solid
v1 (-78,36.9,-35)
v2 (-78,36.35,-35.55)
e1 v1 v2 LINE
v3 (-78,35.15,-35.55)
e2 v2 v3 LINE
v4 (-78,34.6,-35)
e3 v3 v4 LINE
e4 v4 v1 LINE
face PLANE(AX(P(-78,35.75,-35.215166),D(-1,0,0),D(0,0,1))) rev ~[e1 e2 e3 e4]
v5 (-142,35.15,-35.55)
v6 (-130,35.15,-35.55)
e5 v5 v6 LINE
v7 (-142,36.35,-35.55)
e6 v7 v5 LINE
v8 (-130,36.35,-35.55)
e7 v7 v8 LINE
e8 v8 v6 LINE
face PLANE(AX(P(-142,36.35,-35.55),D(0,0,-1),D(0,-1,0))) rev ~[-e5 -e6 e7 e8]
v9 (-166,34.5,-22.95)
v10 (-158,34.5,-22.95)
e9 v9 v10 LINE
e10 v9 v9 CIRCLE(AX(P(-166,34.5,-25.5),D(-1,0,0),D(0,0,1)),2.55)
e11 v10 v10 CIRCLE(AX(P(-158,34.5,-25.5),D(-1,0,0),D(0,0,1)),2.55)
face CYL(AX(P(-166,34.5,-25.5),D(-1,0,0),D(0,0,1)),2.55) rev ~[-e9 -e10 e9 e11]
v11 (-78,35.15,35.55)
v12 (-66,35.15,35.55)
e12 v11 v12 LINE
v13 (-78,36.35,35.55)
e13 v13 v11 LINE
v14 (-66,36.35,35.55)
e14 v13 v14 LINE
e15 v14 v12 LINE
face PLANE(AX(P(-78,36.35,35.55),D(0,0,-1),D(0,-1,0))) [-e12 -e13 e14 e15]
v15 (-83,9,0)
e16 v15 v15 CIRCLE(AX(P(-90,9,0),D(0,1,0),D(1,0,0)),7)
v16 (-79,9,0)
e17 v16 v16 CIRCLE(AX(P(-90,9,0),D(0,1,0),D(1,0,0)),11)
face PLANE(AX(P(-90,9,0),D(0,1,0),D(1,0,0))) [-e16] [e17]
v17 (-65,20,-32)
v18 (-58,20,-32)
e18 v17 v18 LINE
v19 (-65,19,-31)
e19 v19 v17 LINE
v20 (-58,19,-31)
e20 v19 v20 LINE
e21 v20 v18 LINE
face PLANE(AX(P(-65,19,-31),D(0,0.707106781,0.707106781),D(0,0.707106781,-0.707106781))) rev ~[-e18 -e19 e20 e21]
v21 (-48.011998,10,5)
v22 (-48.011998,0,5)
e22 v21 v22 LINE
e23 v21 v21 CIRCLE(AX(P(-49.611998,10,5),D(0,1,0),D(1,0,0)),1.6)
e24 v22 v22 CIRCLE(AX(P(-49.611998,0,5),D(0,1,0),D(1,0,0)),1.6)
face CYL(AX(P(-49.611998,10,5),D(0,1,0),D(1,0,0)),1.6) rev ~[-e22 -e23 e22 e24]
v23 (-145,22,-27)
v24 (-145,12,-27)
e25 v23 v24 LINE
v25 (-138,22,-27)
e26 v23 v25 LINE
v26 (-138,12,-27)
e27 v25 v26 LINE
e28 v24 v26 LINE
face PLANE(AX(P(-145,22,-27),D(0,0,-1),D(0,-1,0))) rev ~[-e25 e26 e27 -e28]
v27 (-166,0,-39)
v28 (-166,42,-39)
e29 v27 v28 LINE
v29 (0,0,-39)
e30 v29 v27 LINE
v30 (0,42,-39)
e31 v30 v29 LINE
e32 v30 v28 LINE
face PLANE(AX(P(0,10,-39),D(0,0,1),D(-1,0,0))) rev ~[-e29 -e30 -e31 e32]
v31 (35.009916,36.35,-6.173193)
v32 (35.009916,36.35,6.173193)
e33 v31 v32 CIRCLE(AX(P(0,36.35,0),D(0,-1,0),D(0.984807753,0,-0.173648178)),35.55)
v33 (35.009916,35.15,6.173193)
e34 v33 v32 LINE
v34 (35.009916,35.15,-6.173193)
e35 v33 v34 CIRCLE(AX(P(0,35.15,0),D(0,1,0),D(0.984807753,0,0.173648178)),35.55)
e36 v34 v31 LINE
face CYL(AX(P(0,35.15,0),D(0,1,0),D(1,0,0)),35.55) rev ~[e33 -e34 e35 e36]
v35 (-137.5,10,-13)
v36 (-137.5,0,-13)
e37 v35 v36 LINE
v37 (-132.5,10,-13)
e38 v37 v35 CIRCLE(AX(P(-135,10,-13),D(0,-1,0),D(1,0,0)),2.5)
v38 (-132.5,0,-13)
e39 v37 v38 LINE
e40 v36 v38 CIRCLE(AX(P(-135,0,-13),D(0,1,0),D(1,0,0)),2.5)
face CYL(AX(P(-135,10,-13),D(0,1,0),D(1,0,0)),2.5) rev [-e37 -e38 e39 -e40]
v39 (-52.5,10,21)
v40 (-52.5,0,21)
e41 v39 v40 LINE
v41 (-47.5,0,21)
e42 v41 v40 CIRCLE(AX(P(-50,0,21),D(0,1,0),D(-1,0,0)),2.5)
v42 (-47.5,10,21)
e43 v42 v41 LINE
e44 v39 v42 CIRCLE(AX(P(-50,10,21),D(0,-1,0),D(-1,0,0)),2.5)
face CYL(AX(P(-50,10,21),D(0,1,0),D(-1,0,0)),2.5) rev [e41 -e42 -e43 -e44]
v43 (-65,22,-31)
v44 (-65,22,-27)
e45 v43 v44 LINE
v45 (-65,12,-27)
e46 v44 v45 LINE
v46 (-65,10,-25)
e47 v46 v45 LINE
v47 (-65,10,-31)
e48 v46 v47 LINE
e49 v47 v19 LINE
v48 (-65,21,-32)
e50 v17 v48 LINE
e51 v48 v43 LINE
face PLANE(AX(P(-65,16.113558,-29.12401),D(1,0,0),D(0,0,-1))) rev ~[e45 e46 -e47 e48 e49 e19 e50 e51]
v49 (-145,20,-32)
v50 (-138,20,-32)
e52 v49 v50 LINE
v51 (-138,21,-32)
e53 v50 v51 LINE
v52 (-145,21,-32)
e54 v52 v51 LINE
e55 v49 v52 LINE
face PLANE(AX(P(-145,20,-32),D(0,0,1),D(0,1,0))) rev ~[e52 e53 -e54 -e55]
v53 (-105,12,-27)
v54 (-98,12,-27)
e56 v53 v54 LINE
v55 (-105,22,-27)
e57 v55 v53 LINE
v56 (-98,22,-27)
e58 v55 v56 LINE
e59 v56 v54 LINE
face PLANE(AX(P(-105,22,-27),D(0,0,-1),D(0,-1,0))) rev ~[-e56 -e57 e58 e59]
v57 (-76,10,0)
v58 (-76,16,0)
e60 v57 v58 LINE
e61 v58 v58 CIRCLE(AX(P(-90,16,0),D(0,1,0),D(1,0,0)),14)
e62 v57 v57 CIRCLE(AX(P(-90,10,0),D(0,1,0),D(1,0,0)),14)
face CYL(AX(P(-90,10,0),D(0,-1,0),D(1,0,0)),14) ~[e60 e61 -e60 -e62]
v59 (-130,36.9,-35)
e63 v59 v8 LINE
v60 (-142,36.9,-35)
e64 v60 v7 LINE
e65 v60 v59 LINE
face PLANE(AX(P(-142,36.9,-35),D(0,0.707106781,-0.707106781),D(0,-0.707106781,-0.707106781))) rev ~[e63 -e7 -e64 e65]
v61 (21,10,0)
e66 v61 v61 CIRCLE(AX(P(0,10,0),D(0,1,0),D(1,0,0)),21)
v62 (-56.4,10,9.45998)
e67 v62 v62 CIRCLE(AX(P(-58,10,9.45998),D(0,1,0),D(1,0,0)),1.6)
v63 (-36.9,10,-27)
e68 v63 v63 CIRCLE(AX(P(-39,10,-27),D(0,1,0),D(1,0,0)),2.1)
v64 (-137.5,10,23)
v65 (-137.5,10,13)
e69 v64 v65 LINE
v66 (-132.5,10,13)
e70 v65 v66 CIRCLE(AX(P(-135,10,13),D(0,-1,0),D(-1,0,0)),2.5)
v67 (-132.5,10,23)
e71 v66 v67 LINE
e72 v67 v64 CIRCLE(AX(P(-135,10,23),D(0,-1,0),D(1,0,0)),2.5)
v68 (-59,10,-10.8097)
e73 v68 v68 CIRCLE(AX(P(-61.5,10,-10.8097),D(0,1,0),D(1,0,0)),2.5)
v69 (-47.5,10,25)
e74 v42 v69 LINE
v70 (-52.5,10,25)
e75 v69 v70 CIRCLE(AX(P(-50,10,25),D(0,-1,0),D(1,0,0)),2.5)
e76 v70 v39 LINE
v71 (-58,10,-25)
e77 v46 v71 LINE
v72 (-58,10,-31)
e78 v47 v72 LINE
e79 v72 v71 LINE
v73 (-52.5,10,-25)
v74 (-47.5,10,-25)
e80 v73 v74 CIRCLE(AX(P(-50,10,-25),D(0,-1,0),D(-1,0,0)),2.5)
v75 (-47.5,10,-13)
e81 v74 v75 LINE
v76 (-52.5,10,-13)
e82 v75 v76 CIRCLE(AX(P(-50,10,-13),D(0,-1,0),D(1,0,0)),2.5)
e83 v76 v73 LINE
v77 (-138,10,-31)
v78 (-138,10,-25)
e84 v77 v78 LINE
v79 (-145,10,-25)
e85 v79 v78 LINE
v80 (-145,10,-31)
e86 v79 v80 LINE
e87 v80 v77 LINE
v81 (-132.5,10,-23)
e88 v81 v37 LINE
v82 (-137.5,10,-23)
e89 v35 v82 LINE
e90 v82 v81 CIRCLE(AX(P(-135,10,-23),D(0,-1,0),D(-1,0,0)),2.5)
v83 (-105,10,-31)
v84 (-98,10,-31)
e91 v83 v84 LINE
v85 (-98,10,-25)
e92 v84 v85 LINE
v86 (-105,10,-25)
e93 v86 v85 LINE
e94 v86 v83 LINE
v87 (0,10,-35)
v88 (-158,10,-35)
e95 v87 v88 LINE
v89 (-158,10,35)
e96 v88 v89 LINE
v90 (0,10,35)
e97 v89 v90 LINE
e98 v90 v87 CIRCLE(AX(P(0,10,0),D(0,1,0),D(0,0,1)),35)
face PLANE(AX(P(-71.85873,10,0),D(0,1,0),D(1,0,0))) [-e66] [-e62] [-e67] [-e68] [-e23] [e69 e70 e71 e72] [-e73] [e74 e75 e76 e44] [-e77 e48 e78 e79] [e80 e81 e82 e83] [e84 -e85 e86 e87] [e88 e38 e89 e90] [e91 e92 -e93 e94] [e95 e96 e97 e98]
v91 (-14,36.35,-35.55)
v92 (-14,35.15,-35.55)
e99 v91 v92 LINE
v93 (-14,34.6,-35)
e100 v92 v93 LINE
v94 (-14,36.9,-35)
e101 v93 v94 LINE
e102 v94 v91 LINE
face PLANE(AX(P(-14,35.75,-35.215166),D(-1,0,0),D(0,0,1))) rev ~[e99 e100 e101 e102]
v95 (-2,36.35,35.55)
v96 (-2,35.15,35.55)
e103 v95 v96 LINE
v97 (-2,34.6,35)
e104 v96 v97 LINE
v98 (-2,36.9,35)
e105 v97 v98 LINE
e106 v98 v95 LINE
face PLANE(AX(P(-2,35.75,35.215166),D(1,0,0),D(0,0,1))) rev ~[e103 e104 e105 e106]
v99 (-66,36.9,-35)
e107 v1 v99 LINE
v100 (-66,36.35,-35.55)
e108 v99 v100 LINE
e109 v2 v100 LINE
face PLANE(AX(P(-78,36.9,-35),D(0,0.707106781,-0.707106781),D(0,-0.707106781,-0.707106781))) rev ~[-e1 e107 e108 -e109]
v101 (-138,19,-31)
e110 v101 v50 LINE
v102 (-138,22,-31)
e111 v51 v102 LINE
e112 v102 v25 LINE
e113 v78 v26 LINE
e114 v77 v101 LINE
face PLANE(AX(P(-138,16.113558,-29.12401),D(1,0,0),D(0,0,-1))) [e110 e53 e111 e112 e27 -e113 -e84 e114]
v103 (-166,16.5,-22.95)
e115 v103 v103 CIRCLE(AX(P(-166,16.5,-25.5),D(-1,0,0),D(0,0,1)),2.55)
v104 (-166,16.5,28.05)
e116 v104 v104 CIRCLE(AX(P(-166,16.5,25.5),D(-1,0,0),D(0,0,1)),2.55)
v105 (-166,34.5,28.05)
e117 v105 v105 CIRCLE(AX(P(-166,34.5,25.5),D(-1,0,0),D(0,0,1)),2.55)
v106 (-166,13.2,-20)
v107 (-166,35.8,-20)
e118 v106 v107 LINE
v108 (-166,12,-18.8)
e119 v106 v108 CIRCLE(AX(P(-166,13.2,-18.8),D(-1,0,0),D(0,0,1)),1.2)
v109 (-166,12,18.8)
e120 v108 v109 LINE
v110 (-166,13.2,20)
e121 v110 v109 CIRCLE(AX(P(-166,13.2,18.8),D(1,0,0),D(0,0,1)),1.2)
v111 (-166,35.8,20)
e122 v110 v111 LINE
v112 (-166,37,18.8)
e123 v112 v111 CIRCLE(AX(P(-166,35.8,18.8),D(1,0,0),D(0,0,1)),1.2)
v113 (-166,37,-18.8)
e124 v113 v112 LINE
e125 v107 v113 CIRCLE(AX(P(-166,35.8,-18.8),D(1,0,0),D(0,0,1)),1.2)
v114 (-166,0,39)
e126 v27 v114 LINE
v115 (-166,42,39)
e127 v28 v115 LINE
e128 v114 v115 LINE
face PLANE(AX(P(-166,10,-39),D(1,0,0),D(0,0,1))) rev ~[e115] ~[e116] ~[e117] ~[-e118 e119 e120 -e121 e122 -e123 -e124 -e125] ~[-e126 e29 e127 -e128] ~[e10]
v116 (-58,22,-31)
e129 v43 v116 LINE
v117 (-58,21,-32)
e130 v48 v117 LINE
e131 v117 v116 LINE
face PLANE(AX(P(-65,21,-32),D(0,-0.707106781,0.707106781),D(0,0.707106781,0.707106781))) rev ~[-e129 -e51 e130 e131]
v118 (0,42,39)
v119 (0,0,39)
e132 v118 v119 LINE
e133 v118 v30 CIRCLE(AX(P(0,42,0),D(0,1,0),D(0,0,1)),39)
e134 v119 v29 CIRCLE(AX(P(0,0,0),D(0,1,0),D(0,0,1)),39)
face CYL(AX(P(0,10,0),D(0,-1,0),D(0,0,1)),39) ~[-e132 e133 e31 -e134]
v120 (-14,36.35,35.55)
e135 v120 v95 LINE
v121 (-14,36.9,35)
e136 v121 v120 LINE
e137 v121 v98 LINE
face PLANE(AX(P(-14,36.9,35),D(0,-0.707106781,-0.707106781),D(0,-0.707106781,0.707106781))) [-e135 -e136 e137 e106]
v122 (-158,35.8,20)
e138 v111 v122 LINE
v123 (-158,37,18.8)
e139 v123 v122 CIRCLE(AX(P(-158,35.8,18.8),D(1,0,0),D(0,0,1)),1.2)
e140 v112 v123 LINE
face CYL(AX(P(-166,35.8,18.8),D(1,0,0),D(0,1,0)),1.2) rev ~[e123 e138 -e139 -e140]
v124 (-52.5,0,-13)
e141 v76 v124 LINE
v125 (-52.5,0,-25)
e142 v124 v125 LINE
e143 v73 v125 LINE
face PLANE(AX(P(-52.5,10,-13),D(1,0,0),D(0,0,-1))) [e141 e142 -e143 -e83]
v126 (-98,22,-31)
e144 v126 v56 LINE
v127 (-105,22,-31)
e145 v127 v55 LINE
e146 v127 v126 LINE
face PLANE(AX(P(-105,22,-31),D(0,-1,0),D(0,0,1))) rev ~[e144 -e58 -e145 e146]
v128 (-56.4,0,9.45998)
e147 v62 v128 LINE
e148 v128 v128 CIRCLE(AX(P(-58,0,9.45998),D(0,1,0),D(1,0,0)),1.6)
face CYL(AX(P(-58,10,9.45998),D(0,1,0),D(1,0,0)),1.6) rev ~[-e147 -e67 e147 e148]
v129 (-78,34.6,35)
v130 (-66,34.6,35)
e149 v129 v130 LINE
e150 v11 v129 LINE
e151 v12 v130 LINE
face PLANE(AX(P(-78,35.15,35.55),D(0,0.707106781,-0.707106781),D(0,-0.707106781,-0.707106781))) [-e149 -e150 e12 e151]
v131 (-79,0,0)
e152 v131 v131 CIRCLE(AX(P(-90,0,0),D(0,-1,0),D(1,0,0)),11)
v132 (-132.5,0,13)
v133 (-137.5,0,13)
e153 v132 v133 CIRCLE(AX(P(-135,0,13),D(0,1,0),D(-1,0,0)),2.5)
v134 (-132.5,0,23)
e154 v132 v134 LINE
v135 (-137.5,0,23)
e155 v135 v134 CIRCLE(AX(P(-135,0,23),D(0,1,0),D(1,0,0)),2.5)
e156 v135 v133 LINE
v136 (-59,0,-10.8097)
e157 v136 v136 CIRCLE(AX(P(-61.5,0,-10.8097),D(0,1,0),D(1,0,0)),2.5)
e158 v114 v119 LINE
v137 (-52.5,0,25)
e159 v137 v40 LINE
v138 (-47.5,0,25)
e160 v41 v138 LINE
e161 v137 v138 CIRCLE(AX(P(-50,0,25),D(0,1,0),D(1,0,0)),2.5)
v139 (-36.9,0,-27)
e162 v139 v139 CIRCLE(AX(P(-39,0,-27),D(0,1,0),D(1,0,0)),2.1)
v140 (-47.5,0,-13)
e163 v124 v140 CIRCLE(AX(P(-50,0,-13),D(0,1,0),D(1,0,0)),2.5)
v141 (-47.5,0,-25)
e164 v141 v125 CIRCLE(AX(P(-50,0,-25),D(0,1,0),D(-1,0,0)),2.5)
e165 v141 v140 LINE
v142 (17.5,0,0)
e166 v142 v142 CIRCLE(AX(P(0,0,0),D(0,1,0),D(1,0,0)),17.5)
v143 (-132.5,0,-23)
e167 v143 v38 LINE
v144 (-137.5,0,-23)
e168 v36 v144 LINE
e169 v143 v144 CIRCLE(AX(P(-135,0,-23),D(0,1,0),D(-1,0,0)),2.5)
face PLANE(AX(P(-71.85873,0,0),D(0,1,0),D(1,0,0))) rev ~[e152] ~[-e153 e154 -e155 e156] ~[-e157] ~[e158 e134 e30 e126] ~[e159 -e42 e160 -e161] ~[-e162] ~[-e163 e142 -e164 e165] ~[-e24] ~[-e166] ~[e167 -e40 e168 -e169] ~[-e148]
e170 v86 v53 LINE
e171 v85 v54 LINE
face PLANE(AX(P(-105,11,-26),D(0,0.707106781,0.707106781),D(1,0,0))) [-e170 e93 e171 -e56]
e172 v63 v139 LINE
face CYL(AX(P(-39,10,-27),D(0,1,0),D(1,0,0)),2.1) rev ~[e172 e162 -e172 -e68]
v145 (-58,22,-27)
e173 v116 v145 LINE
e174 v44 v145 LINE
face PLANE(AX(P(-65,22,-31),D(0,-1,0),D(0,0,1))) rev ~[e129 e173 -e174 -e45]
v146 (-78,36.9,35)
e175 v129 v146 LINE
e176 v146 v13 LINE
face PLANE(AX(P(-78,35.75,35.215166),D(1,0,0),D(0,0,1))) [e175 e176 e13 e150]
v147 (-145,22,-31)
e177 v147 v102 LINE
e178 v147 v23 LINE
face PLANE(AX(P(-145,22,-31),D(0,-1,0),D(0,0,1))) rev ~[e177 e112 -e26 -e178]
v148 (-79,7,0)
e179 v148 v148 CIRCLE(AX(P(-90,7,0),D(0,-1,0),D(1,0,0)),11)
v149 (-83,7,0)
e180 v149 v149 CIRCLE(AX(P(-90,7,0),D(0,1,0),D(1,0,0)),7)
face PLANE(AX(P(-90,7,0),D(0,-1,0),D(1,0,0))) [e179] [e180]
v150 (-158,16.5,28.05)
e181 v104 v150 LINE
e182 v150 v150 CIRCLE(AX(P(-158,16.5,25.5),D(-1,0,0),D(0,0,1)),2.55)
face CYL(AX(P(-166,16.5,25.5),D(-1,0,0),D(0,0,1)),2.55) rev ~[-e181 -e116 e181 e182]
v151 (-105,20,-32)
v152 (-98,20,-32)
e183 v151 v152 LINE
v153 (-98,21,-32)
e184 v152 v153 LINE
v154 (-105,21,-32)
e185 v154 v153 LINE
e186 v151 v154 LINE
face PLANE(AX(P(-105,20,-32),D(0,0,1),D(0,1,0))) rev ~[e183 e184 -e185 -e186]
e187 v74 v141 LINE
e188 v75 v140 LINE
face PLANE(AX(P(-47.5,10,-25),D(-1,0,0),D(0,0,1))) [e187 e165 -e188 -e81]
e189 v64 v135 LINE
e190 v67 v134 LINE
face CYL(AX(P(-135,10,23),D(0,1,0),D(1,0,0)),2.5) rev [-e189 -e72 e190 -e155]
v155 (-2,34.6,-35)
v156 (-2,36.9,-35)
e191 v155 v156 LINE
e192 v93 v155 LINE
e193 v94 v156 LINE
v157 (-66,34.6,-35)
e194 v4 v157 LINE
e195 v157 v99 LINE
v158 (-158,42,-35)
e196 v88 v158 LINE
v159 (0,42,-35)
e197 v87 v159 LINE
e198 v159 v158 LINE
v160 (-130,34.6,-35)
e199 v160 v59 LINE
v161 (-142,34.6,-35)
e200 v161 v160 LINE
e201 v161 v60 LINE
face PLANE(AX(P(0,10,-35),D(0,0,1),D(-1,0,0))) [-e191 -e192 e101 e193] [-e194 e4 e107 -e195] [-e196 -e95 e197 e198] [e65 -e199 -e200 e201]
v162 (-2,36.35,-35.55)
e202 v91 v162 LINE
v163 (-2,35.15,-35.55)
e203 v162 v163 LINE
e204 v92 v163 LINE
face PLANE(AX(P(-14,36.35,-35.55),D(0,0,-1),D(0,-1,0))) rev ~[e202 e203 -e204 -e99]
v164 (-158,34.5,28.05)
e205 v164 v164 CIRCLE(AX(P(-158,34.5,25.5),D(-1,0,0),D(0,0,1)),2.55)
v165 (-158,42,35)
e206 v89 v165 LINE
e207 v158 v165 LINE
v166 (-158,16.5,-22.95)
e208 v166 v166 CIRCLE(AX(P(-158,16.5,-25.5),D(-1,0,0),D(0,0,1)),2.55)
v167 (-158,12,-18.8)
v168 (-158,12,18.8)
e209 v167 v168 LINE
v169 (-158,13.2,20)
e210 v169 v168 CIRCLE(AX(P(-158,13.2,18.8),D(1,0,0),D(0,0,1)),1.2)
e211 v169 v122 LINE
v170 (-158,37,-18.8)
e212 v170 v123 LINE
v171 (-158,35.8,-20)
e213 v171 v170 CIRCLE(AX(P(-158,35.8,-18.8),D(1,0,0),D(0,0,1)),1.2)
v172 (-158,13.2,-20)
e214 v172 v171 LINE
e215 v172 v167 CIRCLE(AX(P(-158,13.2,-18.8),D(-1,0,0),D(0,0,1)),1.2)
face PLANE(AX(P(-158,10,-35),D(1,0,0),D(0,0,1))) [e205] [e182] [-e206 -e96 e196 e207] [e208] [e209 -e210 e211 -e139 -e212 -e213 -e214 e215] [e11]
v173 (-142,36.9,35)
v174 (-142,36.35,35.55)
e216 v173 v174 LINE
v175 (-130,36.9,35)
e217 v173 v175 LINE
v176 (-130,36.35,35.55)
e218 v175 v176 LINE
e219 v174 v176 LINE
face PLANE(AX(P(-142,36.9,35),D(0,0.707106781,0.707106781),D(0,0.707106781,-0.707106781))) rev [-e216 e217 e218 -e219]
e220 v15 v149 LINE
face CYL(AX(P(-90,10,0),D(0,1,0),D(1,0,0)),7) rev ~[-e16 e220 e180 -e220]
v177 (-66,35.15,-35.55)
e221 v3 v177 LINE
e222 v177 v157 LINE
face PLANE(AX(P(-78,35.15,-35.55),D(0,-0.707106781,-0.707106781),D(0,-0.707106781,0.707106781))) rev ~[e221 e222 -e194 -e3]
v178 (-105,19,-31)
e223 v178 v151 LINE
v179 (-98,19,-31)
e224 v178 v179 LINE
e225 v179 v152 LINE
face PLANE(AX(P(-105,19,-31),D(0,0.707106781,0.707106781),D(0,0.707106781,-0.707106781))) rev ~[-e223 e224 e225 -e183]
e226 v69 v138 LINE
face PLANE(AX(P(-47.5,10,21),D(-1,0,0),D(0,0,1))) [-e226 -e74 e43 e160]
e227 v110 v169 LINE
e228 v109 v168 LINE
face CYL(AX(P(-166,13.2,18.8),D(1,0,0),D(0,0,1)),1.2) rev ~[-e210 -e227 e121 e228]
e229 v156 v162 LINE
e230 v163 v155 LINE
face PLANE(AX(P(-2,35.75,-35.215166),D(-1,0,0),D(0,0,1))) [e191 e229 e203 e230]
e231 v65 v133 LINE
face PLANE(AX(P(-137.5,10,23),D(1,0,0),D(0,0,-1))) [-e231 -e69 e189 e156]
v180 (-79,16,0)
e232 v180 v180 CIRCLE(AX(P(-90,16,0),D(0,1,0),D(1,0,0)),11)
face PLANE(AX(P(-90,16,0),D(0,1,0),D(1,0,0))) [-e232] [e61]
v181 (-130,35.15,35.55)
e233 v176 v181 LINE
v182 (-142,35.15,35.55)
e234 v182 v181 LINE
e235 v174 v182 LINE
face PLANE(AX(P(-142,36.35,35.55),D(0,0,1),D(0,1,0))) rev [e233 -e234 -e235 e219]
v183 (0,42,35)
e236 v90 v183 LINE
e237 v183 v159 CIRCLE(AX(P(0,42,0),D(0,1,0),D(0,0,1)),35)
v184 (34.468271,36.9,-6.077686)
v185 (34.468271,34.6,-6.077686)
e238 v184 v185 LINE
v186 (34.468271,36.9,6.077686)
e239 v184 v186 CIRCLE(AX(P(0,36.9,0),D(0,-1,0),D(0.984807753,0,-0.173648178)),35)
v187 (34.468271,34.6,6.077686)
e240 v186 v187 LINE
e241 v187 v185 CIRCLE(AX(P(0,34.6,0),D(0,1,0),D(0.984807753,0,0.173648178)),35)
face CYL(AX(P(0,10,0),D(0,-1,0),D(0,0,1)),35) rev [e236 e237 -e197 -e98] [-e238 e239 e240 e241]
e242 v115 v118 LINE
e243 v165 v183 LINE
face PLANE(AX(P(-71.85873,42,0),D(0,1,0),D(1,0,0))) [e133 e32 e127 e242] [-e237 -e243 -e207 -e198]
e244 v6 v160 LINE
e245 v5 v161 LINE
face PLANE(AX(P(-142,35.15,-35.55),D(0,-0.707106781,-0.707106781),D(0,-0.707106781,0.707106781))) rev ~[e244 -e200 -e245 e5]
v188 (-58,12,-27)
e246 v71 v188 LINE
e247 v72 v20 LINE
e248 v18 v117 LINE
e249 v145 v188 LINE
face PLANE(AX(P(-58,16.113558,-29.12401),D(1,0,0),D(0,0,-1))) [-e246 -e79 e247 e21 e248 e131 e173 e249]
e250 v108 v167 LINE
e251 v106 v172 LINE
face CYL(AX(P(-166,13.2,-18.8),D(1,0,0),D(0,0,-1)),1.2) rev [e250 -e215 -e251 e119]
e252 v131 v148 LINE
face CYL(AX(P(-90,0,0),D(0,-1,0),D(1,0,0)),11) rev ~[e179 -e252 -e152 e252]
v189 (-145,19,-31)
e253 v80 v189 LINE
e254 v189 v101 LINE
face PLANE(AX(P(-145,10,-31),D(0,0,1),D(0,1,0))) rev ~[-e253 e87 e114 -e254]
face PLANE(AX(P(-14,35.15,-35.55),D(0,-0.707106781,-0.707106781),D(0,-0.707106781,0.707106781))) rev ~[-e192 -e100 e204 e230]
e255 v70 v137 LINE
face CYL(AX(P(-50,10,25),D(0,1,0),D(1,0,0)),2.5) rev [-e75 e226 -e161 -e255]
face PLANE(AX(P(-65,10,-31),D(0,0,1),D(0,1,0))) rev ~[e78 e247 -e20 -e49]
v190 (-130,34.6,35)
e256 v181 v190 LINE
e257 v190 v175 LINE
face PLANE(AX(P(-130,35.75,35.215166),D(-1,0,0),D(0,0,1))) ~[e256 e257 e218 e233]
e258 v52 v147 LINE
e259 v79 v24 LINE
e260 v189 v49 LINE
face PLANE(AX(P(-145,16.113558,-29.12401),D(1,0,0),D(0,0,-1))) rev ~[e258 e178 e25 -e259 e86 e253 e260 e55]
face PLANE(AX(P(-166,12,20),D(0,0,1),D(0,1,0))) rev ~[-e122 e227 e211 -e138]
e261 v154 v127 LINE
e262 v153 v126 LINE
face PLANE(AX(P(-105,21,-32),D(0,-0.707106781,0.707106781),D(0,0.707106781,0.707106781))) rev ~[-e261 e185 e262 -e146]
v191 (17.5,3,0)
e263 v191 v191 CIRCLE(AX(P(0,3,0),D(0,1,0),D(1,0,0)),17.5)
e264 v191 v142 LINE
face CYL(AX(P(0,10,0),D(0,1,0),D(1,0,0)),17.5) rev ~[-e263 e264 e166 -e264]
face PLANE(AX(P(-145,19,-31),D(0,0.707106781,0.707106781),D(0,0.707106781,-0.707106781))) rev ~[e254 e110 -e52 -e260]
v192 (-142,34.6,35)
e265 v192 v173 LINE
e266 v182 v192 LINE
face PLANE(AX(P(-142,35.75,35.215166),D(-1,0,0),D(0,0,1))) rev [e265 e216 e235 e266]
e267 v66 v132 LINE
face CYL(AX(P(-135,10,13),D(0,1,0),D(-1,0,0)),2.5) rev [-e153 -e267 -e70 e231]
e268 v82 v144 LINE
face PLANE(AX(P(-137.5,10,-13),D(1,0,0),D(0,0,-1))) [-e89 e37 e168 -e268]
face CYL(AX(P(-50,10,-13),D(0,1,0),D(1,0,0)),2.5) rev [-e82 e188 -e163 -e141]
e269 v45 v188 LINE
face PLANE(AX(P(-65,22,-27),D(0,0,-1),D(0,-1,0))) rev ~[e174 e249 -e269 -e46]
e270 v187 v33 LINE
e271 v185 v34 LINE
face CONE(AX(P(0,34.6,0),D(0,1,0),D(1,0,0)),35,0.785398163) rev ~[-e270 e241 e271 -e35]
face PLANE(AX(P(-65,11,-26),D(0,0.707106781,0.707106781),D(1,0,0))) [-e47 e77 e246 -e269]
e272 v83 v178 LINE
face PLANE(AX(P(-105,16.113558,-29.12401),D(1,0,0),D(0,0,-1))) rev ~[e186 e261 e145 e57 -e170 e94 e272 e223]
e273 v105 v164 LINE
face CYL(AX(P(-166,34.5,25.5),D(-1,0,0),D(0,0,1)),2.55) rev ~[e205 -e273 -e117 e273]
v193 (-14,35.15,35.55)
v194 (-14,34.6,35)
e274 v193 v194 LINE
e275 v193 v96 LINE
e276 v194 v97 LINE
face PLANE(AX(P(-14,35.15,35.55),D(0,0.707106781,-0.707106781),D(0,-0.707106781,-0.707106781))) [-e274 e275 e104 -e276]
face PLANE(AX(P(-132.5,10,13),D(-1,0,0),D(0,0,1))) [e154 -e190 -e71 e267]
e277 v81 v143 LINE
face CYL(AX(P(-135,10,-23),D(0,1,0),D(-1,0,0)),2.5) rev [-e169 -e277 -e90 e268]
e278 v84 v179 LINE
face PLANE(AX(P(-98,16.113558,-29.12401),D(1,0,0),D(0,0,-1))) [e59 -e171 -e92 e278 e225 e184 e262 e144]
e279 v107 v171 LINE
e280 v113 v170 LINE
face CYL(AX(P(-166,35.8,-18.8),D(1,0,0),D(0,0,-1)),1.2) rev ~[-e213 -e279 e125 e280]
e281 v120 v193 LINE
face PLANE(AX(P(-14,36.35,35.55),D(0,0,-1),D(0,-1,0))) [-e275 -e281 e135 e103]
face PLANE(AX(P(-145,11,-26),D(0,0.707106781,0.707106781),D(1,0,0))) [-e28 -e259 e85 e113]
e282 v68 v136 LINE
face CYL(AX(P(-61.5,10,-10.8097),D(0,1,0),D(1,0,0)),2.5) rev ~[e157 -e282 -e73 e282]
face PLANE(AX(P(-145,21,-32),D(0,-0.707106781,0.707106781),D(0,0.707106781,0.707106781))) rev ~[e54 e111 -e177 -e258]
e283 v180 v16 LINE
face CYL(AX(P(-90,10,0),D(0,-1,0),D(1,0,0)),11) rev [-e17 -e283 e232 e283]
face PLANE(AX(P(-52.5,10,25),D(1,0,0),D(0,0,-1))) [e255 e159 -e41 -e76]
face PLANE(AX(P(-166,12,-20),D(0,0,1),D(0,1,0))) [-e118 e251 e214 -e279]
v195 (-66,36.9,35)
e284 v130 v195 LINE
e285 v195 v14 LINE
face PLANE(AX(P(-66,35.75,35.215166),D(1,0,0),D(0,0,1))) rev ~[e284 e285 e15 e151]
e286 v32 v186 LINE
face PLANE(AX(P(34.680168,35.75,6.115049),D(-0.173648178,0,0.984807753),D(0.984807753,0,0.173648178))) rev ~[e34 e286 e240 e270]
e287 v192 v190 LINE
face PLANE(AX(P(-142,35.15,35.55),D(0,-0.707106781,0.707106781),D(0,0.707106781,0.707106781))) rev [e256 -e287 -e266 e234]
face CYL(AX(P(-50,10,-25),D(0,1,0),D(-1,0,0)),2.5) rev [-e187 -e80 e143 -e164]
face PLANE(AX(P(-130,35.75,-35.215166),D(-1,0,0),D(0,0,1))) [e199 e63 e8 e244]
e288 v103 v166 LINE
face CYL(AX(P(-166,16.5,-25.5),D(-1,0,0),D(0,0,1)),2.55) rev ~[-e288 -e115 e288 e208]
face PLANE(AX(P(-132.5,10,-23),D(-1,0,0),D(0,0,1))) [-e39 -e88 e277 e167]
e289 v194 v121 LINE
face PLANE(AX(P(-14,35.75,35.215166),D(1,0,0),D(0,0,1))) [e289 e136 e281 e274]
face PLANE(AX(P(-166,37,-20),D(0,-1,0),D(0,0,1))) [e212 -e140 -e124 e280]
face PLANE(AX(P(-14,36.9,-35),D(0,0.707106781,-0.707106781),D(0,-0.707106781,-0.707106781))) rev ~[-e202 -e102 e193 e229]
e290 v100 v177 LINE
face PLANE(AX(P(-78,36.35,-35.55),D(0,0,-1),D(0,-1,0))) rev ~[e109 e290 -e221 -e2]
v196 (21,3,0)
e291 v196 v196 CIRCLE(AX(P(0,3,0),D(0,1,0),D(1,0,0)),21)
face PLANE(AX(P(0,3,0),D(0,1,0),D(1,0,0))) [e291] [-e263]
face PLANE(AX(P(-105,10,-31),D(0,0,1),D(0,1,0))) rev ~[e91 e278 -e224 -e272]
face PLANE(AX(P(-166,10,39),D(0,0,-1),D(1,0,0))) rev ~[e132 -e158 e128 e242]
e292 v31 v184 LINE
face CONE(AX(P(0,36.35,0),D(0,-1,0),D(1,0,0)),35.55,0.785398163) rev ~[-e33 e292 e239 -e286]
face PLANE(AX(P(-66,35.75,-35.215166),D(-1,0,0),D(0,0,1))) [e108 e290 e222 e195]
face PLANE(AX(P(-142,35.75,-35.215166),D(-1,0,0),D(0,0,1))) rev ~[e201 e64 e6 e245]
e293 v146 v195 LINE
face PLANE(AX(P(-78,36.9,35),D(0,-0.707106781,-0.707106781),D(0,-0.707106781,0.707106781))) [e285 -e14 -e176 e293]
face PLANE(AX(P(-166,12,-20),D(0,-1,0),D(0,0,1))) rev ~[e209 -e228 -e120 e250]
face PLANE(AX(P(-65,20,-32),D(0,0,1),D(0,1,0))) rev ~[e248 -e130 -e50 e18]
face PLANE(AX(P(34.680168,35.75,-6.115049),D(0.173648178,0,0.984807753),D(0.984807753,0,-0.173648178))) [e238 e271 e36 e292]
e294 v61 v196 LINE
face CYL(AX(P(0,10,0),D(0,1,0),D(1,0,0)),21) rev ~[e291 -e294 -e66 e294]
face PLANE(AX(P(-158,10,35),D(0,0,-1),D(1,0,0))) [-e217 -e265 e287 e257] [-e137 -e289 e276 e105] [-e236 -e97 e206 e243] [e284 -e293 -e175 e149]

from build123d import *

# Parameters (mm, degrees)
BOSS_EXTRUDE1_DEPTH        = 10
BOSS_EXTRUDE2_DEPTH        = 32
CUT_EXTRUDE1_REACH         = 207
SKETCH3_R                  = 2.55
SKETCH3_W                  = 40
SKETCH3_H                  = 25
FILLET1_R                  = 1.2
SKETCH4_R                  = 7
SKETCH4_R_2                = 17.5
CUT_EXTRUDE2_DEPTH         = 11
SKETCH5_R                  = 21
CUT_EXTRUDE3_DEPTH         = 7
SKETCH6_R                  = 14
SKETCH6_R_2                = 11
BOSS_EXTRUDE3_DEPTH        = 6
CUT_EXTRUDE4_DEPTH         = 11
SKETCH8_R                  = 11
CUT_EXTRUDE5_DEPTH         = 7
SKETCH9_R                  = 2.1
SKETCH9_R_2                = 2.5
SKETCH9_R_3                = 1.6
CUT_EXTRUDE6_DEPTH         = 11
BOSS_EXTRUDE4_DEPTH        = 7
CHAMFER1_SIZE              = 2
LPATTERN1_COUNT            = 3
LPATTERN1_PITCH            = 40
CHAMFER1_OF_LPATTERN1_SIZE = 2
CUT_EXTRUDE7_DEPTH         = 12
LPATTERN2_COUNT            = 3
LPATTERN2_PITCH            = 64
MIRROR1_COPY_1_DEPTH       = 12
MIRROR1_COPY_2_DEPTH       = 12
CUT_REVOLVE1_ANGLE         = 20
SKETCH13_R                 = 11
CUT_EXTRUDE8_DEPTH         = 1


with BuildPart() as part:
    # Sketch1 → Boss-Extrude1 (new body)
    with BuildSketch(Plane(origin=(0, 0, 0), x_dir=(1, 0, 0), z_dir=(0, 1, 0))):
        with BuildLine():
            Line((0, 39), (-166, 39))
            Line((-166, 39), (-166, -39))
            Line((-166, -39), (0, -39))
            ThreePointArc((0, -39), (39, 0), (0, 39))
        make_face()
    extrude(amount=BOSS_EXTRUDE1_DEPTH)

    # Sketch2 → Boss-Extrude2 (add)
    with BuildSketch(Plane(origin=(0, 10, 0), x_dir=(1, 0, 0), z_dir=(0, 1, 0))):
        with BuildLine():
            Line((0, 39), (-166, 39))
            Line((-166, 39), (-166, -39))
            Line((-166, -39), (0, -39))
            ThreePointArc((0, -39), (39, 0), (0, 39))
        make_face()
        with BuildLine():
            Line((0, 35), (-158, 35))
            Line((-158, 35), (-158, -35))
            Line((-158, -35), (0, -35))
            ThreePointArc((0, -35), (35, 0), (0, 35))
        make_face(mode=Mode.SUBTRACT)
    extrude(amount=BOSS_EXTRUDE2_DEPTH)

    # Sketch3 → Cut-Extrude1 (cut, up to next)
    with BuildSketch(Plane.ZY.offset(166), mode=Mode.PRIVATE) as cut_extrude1_sk1:
        with Locations((-25.5, 34.5)):
            Circle(SKETCH3_R)
    cut_extrude1_tool1 = extrude(cut_extrude1_sk1.sketch, amount=-CUT_EXTRUDE1_REACH, mode=Mode.PRIVATE) & part.part
    add(cut_extrude1_tool1.solids().sort_by_distance((-166, 34.5, -25.5))[0], mode=Mode.SUBTRACT)
    # Sketch3 → Cut-Extrude1 (cut, up to next)
    with BuildSketch(Plane.ZY.offset(166), mode=Mode.PRIVATE) as cut_extrude1_sk2:
        with Locations((-25.5, 16.5)):
            Circle(SKETCH3_R)
    cut_extrude1_tool2 = extrude(cut_extrude1_sk2.sketch, amount=-CUT_EXTRUDE1_REACH, mode=Mode.PRIVATE) & part.part
    add(cut_extrude1_tool2.solids().sort_by_distance((-166, 16.5, -25.5))[0], mode=Mode.SUBTRACT)
    # Sketch3 → Cut-Extrude1 (cut, up to next)
    with BuildSketch(Plane.ZY.offset(166), mode=Mode.PRIVATE) as cut_extrude1_sk3:
        with Locations((25.5, 16.5)):
            Circle(SKETCH3_R)
    cut_extrude1_tool3 = extrude(cut_extrude1_sk3.sketch, amount=-CUT_EXTRUDE1_REACH, mode=Mode.PRIVATE) & part.part
    add(cut_extrude1_tool3.solids().sort_by_distance((-166, 16.5, 25.5))[0], mode=Mode.SUBTRACT)
    # Sketch3 → Cut-Extrude1 (cut, up to next)
    with BuildSketch(Plane.ZY.offset(166), mode=Mode.PRIVATE) as cut_extrude1_sk4:
        with Locations((25.5, 34.5)):
            Circle(SKETCH3_R)
    cut_extrude1_tool4 = extrude(cut_extrude1_sk4.sketch, amount=-CUT_EXTRUDE1_REACH, mode=Mode.PRIVATE) & part.part
    add(cut_extrude1_tool4.solids().sort_by_distance((-166, 34.5, 25.5))[0], mode=Mode.SUBTRACT)
    # Sketch3 → Cut-Extrude1 (cut, up to next)
    with BuildSketch(Plane.ZY.offset(166), mode=Mode.PRIVATE) as cut_extrude1_sk5:
        with Locations((0, 24.5)):
            Rectangle(SKETCH3_W, SKETCH3_H)
    cut_extrude1_tool5 = extrude(cut_extrude1_sk5.sketch, amount=-CUT_EXTRUDE1_REACH, mode=Mode.PRIVATE) & part.part
    add(cut_extrude1_tool5.solids().sort_by_distance((-166, 24.5, 0))[0], mode=Mode.SUBTRACT)

    # Fillet1
    fillet1_edges = [part.edges().sort_by_distance(p)[0] for p in [
        (-162, 37, -20),
        (-162, 12, -20),
        (-162, 12, 20),
        (-162, 37, 20),
    ]]
    fillet(fillet1_edges, radius=FILLET1_R)

    # Sketch4 → Cut-Extrude2 (cut, through all)
    with BuildSketch(Plane(origin=(0, 10, 0), x_dir=(1, 0, 0), z_dir=(0, 1, 0))):
        with Locations((-90, 0)):
            Circle(SKETCH4_R)
        Circle(SKETCH4_R_2)
    extrude(amount=-CUT_EXTRUDE2_DEPTH, mode=Mode.SUBTRACT)

    # Sketch5 → Cut-Extrude3 (cut)
    with BuildSketch(Plane(origin=(0, 10, 0), x_dir=(1, 0, 0), z_dir=(0, 1, 0))):
        Circle(SKETCH5_R)
    extrude(amount=-CUT_EXTRUDE3_DEPTH, mode=Mode.SUBTRACT)

    # Sketch6 → Boss-Extrude3 (add)
    with BuildSketch(Plane(origin=(0, 10, 0), x_dir=(1, 0, 0), z_dir=(0, 1, 0))):
        with Locations((-90, 0)):
            Circle(SKETCH6_R)
        with Locations((-90, 0)):
            Circle(SKETCH6_R_2, mode=Mode.SUBTRACT)
    extrude(amount=BOSS_EXTRUDE3_DEPTH)

    # Sketch7 → Cut-Extrude4 (cut, through all)
    with BuildSketch(Plane(origin=(0, 10, 0), x_dir=(1, 0, 0), z_dir=(0, 1, 0))):
        with BuildLine():
            Line((-132.5, 23), (-132.5, 13))
            ThreePointArc((-132.5, 13), (-135, 10.5), (-137.5, 13))
            Line((-137.5, 13), (-137.5, 23))
            ThreePointArc((-137.5, 23), (-135, 25.5), (-132.5, 23))
        make_face()
        with BuildLine():
            Line((-132.5, -13), (-132.5, -23))
            ThreePointArc((-132.5, -23), (-135, -25.5), (-137.5, -23))
            Line((-137.5, -23), (-137.5, -13))
            ThreePointArc((-137.5, -13), (-135, -10.5), (-132.5, -13))
        make_face()
        with BuildLine():
            Line((-47.5, 25), (-47.5, 13))
            ThreePointArc((-47.5, 13), (-50, 10.5), (-52.5, 13))
            Line((-52.5, 13), (-52.5, 25))
            ThreePointArc((-52.5, 25), (-50, 27.5), (-47.5, 25))
        make_face()
        with BuildLine():
            Line((-47.5, -21), (-47.5, -25))
            ThreePointArc((-47.5, -25), (-50, -27.5), (-52.5, -25))
            Line((-52.5, -25), (-52.5, -21))
            ThreePointArc((-52.5, -21), (-50, -18.5), (-47.5, -21))
        make_face()
    extrude(amount=-CUT_EXTRUDE4_DEPTH, mode=Mode.SUBTRACT)

    # Sketch8 → Cut-Extrude5 (cut)
    with BuildSketch(Plane.XZ):
        with Locations((-90, 0)):
            Circle(SKETCH8_R)
    extrude(amount=-CUT_EXTRUDE5_DEPTH, mode=Mode.SUBTRACT)

    # Sketch9 → Cut-Extrude6 (cut, through all)
    with BuildSketch(Plane(origin=(0, 10, 0), x_dir=(1, 0, 0), z_dir=(0, 1, 0))):
        with Locations((-39, 27)):
            Circle(SKETCH9_R)
        with Locations((-61.5, 10.809700388)):
            Circle(SKETCH9_R_2)
        with Locations((-58, -9.459979846)):
            Circle(SKETCH9_R_3)
        with Locations((-49.611997868, -5)):
            Circle(SKETCH9_R_3)
    extrude(amount=-CUT_EXTRUDE6_DEPTH, mode=Mode.SUBTRACT)

    # Sketch10 → Boss-Extrude4 (add)
    with BuildSketch(Plane(origin=(-145, 0, 0), x_dir=(0, 0, -1), z_dir=(1, 0, 0))):
        Polygon((27, 10), (31, 10), (31, 19), (32, 20), (32, 21), (31, 22), (27, 22), align=None)
    boss_extrude4 = extrude(amount=BOSS_EXTRUDE4_DEPTH)

    # Chamfer1
    chamfer1_edges = [part.edges().sort_by_distance(p)[0] for p in [
        (-141.5, 10, -27),
    ]]
    chamfer(chamfer1_edges, length=CHAMFER1_SIZE)

    # LPattern1: Boss-Extrude4 ×3
    with Locations(*[(i * LPATTERN1_PITCH, 0, 0) for i in range(1, LPATTERN1_COUNT)]):
        add(boss_extrude4)

    # Chamfer1 of LPattern1
    chamfer1_of_lpattern1_edges = [part.edges().sort_by_distance(p)[0] for p in [
        (-101.5, 10, -27),
        (-61.5, 10, -27),
    ]]
    chamfer(chamfer1_of_lpattern1_edges, length=CHAMFER1_OF_LPATTERN1_SIZE)

    # Sketch11 → Cut-Extrude7 (cut)
    with BuildSketch(Plane.ZY.offset(142)):
        Polygon((-35, 34.6), (-35, 36.9), (-35.55, 36.35), (-35.55, 35.15), align=None)
    cut_extrude7 = extrude(amount=-CUT_EXTRUDE7_DEPTH, mode=Mode.SUBTRACT)

    # LPattern2: Cut-Extrude7 ×3
    with Locations(*[(i * LPATTERN2_PITCH, 0, 0) for i in range(1, LPATTERN2_COUNT)]):
        add(cut_extrude7, mode=Mode.SUBTRACT)

    # Mirror1: Cut-Extrude7 across plane
    add(cut_extrude7.mirror(Plane.XY), mode=Mode.SUBTRACT)

    # Mirror1 copy 1 sketch → Mirror1 copy 1 (cut)
    with BuildSketch(Plane(origin=(-78, 0, 0), x_dir=(0, 0, -1), z_dir=(-1, 0, 0))):
        Polygon((-35, -34.6), (-35, -36.9), (-35.55, -36.35), (-35.55, -35.15), align=None)
    extrude(amount=-MIRROR1_COPY_1_DEPTH, mode=Mode.SUBTRACT)

    # Mirror1 copy 2 sketch → Mirror1 copy 2 (cut)
    with BuildSketch(Plane(origin=(-14, 0, 0), x_dir=(0, 0, -1), z_dir=(-1, 0, 0))):
        Polygon((-35, -34.6), (-35, -36.9), (-35.55, -36.35), (-35.55, -35.15), align=None)
    extrude(amount=-MIRROR1_COPY_2_DEPTH, mode=Mode.SUBTRACT)

    # Sketch12 → Cut-Revolve1 (revolve, symmetric, cut)
    with BuildSketch(Plane.XY) as cut_revolve1_sk:
        Polygon((35.55, 36.35), (35, 36.9), (35, 34.6), (35.55, 35.15), align=None)
    revolve(axis=Axis((0, 42, 0), (0, -1, 0)), revolution_arc=CUT_REVOLVE1_ANGLE / 2, mode=Mode.SUBTRACT)
    revolve(cut_revolve1_sk.sketch, axis=Axis((0, 42, 0), (0, 1, 0)), revolution_arc=CUT_REVOLVE1_ANGLE / 2, mode=Mode.SUBTRACT)

    # Sketch13 → Cut-Extrude8 (cut)
    with BuildSketch(Plane(origin=(0, 10, 0), x_dir=(1, 0, 0), z_dir=(0, 1, 0))):
        with Locations((-90, 0)):
            Circle(SKETCH13_R)
    extrude(amount=-CUT_EXTRUDE8_DEPTH, mode=Mode.SUBTRACT)


solid = part.part
